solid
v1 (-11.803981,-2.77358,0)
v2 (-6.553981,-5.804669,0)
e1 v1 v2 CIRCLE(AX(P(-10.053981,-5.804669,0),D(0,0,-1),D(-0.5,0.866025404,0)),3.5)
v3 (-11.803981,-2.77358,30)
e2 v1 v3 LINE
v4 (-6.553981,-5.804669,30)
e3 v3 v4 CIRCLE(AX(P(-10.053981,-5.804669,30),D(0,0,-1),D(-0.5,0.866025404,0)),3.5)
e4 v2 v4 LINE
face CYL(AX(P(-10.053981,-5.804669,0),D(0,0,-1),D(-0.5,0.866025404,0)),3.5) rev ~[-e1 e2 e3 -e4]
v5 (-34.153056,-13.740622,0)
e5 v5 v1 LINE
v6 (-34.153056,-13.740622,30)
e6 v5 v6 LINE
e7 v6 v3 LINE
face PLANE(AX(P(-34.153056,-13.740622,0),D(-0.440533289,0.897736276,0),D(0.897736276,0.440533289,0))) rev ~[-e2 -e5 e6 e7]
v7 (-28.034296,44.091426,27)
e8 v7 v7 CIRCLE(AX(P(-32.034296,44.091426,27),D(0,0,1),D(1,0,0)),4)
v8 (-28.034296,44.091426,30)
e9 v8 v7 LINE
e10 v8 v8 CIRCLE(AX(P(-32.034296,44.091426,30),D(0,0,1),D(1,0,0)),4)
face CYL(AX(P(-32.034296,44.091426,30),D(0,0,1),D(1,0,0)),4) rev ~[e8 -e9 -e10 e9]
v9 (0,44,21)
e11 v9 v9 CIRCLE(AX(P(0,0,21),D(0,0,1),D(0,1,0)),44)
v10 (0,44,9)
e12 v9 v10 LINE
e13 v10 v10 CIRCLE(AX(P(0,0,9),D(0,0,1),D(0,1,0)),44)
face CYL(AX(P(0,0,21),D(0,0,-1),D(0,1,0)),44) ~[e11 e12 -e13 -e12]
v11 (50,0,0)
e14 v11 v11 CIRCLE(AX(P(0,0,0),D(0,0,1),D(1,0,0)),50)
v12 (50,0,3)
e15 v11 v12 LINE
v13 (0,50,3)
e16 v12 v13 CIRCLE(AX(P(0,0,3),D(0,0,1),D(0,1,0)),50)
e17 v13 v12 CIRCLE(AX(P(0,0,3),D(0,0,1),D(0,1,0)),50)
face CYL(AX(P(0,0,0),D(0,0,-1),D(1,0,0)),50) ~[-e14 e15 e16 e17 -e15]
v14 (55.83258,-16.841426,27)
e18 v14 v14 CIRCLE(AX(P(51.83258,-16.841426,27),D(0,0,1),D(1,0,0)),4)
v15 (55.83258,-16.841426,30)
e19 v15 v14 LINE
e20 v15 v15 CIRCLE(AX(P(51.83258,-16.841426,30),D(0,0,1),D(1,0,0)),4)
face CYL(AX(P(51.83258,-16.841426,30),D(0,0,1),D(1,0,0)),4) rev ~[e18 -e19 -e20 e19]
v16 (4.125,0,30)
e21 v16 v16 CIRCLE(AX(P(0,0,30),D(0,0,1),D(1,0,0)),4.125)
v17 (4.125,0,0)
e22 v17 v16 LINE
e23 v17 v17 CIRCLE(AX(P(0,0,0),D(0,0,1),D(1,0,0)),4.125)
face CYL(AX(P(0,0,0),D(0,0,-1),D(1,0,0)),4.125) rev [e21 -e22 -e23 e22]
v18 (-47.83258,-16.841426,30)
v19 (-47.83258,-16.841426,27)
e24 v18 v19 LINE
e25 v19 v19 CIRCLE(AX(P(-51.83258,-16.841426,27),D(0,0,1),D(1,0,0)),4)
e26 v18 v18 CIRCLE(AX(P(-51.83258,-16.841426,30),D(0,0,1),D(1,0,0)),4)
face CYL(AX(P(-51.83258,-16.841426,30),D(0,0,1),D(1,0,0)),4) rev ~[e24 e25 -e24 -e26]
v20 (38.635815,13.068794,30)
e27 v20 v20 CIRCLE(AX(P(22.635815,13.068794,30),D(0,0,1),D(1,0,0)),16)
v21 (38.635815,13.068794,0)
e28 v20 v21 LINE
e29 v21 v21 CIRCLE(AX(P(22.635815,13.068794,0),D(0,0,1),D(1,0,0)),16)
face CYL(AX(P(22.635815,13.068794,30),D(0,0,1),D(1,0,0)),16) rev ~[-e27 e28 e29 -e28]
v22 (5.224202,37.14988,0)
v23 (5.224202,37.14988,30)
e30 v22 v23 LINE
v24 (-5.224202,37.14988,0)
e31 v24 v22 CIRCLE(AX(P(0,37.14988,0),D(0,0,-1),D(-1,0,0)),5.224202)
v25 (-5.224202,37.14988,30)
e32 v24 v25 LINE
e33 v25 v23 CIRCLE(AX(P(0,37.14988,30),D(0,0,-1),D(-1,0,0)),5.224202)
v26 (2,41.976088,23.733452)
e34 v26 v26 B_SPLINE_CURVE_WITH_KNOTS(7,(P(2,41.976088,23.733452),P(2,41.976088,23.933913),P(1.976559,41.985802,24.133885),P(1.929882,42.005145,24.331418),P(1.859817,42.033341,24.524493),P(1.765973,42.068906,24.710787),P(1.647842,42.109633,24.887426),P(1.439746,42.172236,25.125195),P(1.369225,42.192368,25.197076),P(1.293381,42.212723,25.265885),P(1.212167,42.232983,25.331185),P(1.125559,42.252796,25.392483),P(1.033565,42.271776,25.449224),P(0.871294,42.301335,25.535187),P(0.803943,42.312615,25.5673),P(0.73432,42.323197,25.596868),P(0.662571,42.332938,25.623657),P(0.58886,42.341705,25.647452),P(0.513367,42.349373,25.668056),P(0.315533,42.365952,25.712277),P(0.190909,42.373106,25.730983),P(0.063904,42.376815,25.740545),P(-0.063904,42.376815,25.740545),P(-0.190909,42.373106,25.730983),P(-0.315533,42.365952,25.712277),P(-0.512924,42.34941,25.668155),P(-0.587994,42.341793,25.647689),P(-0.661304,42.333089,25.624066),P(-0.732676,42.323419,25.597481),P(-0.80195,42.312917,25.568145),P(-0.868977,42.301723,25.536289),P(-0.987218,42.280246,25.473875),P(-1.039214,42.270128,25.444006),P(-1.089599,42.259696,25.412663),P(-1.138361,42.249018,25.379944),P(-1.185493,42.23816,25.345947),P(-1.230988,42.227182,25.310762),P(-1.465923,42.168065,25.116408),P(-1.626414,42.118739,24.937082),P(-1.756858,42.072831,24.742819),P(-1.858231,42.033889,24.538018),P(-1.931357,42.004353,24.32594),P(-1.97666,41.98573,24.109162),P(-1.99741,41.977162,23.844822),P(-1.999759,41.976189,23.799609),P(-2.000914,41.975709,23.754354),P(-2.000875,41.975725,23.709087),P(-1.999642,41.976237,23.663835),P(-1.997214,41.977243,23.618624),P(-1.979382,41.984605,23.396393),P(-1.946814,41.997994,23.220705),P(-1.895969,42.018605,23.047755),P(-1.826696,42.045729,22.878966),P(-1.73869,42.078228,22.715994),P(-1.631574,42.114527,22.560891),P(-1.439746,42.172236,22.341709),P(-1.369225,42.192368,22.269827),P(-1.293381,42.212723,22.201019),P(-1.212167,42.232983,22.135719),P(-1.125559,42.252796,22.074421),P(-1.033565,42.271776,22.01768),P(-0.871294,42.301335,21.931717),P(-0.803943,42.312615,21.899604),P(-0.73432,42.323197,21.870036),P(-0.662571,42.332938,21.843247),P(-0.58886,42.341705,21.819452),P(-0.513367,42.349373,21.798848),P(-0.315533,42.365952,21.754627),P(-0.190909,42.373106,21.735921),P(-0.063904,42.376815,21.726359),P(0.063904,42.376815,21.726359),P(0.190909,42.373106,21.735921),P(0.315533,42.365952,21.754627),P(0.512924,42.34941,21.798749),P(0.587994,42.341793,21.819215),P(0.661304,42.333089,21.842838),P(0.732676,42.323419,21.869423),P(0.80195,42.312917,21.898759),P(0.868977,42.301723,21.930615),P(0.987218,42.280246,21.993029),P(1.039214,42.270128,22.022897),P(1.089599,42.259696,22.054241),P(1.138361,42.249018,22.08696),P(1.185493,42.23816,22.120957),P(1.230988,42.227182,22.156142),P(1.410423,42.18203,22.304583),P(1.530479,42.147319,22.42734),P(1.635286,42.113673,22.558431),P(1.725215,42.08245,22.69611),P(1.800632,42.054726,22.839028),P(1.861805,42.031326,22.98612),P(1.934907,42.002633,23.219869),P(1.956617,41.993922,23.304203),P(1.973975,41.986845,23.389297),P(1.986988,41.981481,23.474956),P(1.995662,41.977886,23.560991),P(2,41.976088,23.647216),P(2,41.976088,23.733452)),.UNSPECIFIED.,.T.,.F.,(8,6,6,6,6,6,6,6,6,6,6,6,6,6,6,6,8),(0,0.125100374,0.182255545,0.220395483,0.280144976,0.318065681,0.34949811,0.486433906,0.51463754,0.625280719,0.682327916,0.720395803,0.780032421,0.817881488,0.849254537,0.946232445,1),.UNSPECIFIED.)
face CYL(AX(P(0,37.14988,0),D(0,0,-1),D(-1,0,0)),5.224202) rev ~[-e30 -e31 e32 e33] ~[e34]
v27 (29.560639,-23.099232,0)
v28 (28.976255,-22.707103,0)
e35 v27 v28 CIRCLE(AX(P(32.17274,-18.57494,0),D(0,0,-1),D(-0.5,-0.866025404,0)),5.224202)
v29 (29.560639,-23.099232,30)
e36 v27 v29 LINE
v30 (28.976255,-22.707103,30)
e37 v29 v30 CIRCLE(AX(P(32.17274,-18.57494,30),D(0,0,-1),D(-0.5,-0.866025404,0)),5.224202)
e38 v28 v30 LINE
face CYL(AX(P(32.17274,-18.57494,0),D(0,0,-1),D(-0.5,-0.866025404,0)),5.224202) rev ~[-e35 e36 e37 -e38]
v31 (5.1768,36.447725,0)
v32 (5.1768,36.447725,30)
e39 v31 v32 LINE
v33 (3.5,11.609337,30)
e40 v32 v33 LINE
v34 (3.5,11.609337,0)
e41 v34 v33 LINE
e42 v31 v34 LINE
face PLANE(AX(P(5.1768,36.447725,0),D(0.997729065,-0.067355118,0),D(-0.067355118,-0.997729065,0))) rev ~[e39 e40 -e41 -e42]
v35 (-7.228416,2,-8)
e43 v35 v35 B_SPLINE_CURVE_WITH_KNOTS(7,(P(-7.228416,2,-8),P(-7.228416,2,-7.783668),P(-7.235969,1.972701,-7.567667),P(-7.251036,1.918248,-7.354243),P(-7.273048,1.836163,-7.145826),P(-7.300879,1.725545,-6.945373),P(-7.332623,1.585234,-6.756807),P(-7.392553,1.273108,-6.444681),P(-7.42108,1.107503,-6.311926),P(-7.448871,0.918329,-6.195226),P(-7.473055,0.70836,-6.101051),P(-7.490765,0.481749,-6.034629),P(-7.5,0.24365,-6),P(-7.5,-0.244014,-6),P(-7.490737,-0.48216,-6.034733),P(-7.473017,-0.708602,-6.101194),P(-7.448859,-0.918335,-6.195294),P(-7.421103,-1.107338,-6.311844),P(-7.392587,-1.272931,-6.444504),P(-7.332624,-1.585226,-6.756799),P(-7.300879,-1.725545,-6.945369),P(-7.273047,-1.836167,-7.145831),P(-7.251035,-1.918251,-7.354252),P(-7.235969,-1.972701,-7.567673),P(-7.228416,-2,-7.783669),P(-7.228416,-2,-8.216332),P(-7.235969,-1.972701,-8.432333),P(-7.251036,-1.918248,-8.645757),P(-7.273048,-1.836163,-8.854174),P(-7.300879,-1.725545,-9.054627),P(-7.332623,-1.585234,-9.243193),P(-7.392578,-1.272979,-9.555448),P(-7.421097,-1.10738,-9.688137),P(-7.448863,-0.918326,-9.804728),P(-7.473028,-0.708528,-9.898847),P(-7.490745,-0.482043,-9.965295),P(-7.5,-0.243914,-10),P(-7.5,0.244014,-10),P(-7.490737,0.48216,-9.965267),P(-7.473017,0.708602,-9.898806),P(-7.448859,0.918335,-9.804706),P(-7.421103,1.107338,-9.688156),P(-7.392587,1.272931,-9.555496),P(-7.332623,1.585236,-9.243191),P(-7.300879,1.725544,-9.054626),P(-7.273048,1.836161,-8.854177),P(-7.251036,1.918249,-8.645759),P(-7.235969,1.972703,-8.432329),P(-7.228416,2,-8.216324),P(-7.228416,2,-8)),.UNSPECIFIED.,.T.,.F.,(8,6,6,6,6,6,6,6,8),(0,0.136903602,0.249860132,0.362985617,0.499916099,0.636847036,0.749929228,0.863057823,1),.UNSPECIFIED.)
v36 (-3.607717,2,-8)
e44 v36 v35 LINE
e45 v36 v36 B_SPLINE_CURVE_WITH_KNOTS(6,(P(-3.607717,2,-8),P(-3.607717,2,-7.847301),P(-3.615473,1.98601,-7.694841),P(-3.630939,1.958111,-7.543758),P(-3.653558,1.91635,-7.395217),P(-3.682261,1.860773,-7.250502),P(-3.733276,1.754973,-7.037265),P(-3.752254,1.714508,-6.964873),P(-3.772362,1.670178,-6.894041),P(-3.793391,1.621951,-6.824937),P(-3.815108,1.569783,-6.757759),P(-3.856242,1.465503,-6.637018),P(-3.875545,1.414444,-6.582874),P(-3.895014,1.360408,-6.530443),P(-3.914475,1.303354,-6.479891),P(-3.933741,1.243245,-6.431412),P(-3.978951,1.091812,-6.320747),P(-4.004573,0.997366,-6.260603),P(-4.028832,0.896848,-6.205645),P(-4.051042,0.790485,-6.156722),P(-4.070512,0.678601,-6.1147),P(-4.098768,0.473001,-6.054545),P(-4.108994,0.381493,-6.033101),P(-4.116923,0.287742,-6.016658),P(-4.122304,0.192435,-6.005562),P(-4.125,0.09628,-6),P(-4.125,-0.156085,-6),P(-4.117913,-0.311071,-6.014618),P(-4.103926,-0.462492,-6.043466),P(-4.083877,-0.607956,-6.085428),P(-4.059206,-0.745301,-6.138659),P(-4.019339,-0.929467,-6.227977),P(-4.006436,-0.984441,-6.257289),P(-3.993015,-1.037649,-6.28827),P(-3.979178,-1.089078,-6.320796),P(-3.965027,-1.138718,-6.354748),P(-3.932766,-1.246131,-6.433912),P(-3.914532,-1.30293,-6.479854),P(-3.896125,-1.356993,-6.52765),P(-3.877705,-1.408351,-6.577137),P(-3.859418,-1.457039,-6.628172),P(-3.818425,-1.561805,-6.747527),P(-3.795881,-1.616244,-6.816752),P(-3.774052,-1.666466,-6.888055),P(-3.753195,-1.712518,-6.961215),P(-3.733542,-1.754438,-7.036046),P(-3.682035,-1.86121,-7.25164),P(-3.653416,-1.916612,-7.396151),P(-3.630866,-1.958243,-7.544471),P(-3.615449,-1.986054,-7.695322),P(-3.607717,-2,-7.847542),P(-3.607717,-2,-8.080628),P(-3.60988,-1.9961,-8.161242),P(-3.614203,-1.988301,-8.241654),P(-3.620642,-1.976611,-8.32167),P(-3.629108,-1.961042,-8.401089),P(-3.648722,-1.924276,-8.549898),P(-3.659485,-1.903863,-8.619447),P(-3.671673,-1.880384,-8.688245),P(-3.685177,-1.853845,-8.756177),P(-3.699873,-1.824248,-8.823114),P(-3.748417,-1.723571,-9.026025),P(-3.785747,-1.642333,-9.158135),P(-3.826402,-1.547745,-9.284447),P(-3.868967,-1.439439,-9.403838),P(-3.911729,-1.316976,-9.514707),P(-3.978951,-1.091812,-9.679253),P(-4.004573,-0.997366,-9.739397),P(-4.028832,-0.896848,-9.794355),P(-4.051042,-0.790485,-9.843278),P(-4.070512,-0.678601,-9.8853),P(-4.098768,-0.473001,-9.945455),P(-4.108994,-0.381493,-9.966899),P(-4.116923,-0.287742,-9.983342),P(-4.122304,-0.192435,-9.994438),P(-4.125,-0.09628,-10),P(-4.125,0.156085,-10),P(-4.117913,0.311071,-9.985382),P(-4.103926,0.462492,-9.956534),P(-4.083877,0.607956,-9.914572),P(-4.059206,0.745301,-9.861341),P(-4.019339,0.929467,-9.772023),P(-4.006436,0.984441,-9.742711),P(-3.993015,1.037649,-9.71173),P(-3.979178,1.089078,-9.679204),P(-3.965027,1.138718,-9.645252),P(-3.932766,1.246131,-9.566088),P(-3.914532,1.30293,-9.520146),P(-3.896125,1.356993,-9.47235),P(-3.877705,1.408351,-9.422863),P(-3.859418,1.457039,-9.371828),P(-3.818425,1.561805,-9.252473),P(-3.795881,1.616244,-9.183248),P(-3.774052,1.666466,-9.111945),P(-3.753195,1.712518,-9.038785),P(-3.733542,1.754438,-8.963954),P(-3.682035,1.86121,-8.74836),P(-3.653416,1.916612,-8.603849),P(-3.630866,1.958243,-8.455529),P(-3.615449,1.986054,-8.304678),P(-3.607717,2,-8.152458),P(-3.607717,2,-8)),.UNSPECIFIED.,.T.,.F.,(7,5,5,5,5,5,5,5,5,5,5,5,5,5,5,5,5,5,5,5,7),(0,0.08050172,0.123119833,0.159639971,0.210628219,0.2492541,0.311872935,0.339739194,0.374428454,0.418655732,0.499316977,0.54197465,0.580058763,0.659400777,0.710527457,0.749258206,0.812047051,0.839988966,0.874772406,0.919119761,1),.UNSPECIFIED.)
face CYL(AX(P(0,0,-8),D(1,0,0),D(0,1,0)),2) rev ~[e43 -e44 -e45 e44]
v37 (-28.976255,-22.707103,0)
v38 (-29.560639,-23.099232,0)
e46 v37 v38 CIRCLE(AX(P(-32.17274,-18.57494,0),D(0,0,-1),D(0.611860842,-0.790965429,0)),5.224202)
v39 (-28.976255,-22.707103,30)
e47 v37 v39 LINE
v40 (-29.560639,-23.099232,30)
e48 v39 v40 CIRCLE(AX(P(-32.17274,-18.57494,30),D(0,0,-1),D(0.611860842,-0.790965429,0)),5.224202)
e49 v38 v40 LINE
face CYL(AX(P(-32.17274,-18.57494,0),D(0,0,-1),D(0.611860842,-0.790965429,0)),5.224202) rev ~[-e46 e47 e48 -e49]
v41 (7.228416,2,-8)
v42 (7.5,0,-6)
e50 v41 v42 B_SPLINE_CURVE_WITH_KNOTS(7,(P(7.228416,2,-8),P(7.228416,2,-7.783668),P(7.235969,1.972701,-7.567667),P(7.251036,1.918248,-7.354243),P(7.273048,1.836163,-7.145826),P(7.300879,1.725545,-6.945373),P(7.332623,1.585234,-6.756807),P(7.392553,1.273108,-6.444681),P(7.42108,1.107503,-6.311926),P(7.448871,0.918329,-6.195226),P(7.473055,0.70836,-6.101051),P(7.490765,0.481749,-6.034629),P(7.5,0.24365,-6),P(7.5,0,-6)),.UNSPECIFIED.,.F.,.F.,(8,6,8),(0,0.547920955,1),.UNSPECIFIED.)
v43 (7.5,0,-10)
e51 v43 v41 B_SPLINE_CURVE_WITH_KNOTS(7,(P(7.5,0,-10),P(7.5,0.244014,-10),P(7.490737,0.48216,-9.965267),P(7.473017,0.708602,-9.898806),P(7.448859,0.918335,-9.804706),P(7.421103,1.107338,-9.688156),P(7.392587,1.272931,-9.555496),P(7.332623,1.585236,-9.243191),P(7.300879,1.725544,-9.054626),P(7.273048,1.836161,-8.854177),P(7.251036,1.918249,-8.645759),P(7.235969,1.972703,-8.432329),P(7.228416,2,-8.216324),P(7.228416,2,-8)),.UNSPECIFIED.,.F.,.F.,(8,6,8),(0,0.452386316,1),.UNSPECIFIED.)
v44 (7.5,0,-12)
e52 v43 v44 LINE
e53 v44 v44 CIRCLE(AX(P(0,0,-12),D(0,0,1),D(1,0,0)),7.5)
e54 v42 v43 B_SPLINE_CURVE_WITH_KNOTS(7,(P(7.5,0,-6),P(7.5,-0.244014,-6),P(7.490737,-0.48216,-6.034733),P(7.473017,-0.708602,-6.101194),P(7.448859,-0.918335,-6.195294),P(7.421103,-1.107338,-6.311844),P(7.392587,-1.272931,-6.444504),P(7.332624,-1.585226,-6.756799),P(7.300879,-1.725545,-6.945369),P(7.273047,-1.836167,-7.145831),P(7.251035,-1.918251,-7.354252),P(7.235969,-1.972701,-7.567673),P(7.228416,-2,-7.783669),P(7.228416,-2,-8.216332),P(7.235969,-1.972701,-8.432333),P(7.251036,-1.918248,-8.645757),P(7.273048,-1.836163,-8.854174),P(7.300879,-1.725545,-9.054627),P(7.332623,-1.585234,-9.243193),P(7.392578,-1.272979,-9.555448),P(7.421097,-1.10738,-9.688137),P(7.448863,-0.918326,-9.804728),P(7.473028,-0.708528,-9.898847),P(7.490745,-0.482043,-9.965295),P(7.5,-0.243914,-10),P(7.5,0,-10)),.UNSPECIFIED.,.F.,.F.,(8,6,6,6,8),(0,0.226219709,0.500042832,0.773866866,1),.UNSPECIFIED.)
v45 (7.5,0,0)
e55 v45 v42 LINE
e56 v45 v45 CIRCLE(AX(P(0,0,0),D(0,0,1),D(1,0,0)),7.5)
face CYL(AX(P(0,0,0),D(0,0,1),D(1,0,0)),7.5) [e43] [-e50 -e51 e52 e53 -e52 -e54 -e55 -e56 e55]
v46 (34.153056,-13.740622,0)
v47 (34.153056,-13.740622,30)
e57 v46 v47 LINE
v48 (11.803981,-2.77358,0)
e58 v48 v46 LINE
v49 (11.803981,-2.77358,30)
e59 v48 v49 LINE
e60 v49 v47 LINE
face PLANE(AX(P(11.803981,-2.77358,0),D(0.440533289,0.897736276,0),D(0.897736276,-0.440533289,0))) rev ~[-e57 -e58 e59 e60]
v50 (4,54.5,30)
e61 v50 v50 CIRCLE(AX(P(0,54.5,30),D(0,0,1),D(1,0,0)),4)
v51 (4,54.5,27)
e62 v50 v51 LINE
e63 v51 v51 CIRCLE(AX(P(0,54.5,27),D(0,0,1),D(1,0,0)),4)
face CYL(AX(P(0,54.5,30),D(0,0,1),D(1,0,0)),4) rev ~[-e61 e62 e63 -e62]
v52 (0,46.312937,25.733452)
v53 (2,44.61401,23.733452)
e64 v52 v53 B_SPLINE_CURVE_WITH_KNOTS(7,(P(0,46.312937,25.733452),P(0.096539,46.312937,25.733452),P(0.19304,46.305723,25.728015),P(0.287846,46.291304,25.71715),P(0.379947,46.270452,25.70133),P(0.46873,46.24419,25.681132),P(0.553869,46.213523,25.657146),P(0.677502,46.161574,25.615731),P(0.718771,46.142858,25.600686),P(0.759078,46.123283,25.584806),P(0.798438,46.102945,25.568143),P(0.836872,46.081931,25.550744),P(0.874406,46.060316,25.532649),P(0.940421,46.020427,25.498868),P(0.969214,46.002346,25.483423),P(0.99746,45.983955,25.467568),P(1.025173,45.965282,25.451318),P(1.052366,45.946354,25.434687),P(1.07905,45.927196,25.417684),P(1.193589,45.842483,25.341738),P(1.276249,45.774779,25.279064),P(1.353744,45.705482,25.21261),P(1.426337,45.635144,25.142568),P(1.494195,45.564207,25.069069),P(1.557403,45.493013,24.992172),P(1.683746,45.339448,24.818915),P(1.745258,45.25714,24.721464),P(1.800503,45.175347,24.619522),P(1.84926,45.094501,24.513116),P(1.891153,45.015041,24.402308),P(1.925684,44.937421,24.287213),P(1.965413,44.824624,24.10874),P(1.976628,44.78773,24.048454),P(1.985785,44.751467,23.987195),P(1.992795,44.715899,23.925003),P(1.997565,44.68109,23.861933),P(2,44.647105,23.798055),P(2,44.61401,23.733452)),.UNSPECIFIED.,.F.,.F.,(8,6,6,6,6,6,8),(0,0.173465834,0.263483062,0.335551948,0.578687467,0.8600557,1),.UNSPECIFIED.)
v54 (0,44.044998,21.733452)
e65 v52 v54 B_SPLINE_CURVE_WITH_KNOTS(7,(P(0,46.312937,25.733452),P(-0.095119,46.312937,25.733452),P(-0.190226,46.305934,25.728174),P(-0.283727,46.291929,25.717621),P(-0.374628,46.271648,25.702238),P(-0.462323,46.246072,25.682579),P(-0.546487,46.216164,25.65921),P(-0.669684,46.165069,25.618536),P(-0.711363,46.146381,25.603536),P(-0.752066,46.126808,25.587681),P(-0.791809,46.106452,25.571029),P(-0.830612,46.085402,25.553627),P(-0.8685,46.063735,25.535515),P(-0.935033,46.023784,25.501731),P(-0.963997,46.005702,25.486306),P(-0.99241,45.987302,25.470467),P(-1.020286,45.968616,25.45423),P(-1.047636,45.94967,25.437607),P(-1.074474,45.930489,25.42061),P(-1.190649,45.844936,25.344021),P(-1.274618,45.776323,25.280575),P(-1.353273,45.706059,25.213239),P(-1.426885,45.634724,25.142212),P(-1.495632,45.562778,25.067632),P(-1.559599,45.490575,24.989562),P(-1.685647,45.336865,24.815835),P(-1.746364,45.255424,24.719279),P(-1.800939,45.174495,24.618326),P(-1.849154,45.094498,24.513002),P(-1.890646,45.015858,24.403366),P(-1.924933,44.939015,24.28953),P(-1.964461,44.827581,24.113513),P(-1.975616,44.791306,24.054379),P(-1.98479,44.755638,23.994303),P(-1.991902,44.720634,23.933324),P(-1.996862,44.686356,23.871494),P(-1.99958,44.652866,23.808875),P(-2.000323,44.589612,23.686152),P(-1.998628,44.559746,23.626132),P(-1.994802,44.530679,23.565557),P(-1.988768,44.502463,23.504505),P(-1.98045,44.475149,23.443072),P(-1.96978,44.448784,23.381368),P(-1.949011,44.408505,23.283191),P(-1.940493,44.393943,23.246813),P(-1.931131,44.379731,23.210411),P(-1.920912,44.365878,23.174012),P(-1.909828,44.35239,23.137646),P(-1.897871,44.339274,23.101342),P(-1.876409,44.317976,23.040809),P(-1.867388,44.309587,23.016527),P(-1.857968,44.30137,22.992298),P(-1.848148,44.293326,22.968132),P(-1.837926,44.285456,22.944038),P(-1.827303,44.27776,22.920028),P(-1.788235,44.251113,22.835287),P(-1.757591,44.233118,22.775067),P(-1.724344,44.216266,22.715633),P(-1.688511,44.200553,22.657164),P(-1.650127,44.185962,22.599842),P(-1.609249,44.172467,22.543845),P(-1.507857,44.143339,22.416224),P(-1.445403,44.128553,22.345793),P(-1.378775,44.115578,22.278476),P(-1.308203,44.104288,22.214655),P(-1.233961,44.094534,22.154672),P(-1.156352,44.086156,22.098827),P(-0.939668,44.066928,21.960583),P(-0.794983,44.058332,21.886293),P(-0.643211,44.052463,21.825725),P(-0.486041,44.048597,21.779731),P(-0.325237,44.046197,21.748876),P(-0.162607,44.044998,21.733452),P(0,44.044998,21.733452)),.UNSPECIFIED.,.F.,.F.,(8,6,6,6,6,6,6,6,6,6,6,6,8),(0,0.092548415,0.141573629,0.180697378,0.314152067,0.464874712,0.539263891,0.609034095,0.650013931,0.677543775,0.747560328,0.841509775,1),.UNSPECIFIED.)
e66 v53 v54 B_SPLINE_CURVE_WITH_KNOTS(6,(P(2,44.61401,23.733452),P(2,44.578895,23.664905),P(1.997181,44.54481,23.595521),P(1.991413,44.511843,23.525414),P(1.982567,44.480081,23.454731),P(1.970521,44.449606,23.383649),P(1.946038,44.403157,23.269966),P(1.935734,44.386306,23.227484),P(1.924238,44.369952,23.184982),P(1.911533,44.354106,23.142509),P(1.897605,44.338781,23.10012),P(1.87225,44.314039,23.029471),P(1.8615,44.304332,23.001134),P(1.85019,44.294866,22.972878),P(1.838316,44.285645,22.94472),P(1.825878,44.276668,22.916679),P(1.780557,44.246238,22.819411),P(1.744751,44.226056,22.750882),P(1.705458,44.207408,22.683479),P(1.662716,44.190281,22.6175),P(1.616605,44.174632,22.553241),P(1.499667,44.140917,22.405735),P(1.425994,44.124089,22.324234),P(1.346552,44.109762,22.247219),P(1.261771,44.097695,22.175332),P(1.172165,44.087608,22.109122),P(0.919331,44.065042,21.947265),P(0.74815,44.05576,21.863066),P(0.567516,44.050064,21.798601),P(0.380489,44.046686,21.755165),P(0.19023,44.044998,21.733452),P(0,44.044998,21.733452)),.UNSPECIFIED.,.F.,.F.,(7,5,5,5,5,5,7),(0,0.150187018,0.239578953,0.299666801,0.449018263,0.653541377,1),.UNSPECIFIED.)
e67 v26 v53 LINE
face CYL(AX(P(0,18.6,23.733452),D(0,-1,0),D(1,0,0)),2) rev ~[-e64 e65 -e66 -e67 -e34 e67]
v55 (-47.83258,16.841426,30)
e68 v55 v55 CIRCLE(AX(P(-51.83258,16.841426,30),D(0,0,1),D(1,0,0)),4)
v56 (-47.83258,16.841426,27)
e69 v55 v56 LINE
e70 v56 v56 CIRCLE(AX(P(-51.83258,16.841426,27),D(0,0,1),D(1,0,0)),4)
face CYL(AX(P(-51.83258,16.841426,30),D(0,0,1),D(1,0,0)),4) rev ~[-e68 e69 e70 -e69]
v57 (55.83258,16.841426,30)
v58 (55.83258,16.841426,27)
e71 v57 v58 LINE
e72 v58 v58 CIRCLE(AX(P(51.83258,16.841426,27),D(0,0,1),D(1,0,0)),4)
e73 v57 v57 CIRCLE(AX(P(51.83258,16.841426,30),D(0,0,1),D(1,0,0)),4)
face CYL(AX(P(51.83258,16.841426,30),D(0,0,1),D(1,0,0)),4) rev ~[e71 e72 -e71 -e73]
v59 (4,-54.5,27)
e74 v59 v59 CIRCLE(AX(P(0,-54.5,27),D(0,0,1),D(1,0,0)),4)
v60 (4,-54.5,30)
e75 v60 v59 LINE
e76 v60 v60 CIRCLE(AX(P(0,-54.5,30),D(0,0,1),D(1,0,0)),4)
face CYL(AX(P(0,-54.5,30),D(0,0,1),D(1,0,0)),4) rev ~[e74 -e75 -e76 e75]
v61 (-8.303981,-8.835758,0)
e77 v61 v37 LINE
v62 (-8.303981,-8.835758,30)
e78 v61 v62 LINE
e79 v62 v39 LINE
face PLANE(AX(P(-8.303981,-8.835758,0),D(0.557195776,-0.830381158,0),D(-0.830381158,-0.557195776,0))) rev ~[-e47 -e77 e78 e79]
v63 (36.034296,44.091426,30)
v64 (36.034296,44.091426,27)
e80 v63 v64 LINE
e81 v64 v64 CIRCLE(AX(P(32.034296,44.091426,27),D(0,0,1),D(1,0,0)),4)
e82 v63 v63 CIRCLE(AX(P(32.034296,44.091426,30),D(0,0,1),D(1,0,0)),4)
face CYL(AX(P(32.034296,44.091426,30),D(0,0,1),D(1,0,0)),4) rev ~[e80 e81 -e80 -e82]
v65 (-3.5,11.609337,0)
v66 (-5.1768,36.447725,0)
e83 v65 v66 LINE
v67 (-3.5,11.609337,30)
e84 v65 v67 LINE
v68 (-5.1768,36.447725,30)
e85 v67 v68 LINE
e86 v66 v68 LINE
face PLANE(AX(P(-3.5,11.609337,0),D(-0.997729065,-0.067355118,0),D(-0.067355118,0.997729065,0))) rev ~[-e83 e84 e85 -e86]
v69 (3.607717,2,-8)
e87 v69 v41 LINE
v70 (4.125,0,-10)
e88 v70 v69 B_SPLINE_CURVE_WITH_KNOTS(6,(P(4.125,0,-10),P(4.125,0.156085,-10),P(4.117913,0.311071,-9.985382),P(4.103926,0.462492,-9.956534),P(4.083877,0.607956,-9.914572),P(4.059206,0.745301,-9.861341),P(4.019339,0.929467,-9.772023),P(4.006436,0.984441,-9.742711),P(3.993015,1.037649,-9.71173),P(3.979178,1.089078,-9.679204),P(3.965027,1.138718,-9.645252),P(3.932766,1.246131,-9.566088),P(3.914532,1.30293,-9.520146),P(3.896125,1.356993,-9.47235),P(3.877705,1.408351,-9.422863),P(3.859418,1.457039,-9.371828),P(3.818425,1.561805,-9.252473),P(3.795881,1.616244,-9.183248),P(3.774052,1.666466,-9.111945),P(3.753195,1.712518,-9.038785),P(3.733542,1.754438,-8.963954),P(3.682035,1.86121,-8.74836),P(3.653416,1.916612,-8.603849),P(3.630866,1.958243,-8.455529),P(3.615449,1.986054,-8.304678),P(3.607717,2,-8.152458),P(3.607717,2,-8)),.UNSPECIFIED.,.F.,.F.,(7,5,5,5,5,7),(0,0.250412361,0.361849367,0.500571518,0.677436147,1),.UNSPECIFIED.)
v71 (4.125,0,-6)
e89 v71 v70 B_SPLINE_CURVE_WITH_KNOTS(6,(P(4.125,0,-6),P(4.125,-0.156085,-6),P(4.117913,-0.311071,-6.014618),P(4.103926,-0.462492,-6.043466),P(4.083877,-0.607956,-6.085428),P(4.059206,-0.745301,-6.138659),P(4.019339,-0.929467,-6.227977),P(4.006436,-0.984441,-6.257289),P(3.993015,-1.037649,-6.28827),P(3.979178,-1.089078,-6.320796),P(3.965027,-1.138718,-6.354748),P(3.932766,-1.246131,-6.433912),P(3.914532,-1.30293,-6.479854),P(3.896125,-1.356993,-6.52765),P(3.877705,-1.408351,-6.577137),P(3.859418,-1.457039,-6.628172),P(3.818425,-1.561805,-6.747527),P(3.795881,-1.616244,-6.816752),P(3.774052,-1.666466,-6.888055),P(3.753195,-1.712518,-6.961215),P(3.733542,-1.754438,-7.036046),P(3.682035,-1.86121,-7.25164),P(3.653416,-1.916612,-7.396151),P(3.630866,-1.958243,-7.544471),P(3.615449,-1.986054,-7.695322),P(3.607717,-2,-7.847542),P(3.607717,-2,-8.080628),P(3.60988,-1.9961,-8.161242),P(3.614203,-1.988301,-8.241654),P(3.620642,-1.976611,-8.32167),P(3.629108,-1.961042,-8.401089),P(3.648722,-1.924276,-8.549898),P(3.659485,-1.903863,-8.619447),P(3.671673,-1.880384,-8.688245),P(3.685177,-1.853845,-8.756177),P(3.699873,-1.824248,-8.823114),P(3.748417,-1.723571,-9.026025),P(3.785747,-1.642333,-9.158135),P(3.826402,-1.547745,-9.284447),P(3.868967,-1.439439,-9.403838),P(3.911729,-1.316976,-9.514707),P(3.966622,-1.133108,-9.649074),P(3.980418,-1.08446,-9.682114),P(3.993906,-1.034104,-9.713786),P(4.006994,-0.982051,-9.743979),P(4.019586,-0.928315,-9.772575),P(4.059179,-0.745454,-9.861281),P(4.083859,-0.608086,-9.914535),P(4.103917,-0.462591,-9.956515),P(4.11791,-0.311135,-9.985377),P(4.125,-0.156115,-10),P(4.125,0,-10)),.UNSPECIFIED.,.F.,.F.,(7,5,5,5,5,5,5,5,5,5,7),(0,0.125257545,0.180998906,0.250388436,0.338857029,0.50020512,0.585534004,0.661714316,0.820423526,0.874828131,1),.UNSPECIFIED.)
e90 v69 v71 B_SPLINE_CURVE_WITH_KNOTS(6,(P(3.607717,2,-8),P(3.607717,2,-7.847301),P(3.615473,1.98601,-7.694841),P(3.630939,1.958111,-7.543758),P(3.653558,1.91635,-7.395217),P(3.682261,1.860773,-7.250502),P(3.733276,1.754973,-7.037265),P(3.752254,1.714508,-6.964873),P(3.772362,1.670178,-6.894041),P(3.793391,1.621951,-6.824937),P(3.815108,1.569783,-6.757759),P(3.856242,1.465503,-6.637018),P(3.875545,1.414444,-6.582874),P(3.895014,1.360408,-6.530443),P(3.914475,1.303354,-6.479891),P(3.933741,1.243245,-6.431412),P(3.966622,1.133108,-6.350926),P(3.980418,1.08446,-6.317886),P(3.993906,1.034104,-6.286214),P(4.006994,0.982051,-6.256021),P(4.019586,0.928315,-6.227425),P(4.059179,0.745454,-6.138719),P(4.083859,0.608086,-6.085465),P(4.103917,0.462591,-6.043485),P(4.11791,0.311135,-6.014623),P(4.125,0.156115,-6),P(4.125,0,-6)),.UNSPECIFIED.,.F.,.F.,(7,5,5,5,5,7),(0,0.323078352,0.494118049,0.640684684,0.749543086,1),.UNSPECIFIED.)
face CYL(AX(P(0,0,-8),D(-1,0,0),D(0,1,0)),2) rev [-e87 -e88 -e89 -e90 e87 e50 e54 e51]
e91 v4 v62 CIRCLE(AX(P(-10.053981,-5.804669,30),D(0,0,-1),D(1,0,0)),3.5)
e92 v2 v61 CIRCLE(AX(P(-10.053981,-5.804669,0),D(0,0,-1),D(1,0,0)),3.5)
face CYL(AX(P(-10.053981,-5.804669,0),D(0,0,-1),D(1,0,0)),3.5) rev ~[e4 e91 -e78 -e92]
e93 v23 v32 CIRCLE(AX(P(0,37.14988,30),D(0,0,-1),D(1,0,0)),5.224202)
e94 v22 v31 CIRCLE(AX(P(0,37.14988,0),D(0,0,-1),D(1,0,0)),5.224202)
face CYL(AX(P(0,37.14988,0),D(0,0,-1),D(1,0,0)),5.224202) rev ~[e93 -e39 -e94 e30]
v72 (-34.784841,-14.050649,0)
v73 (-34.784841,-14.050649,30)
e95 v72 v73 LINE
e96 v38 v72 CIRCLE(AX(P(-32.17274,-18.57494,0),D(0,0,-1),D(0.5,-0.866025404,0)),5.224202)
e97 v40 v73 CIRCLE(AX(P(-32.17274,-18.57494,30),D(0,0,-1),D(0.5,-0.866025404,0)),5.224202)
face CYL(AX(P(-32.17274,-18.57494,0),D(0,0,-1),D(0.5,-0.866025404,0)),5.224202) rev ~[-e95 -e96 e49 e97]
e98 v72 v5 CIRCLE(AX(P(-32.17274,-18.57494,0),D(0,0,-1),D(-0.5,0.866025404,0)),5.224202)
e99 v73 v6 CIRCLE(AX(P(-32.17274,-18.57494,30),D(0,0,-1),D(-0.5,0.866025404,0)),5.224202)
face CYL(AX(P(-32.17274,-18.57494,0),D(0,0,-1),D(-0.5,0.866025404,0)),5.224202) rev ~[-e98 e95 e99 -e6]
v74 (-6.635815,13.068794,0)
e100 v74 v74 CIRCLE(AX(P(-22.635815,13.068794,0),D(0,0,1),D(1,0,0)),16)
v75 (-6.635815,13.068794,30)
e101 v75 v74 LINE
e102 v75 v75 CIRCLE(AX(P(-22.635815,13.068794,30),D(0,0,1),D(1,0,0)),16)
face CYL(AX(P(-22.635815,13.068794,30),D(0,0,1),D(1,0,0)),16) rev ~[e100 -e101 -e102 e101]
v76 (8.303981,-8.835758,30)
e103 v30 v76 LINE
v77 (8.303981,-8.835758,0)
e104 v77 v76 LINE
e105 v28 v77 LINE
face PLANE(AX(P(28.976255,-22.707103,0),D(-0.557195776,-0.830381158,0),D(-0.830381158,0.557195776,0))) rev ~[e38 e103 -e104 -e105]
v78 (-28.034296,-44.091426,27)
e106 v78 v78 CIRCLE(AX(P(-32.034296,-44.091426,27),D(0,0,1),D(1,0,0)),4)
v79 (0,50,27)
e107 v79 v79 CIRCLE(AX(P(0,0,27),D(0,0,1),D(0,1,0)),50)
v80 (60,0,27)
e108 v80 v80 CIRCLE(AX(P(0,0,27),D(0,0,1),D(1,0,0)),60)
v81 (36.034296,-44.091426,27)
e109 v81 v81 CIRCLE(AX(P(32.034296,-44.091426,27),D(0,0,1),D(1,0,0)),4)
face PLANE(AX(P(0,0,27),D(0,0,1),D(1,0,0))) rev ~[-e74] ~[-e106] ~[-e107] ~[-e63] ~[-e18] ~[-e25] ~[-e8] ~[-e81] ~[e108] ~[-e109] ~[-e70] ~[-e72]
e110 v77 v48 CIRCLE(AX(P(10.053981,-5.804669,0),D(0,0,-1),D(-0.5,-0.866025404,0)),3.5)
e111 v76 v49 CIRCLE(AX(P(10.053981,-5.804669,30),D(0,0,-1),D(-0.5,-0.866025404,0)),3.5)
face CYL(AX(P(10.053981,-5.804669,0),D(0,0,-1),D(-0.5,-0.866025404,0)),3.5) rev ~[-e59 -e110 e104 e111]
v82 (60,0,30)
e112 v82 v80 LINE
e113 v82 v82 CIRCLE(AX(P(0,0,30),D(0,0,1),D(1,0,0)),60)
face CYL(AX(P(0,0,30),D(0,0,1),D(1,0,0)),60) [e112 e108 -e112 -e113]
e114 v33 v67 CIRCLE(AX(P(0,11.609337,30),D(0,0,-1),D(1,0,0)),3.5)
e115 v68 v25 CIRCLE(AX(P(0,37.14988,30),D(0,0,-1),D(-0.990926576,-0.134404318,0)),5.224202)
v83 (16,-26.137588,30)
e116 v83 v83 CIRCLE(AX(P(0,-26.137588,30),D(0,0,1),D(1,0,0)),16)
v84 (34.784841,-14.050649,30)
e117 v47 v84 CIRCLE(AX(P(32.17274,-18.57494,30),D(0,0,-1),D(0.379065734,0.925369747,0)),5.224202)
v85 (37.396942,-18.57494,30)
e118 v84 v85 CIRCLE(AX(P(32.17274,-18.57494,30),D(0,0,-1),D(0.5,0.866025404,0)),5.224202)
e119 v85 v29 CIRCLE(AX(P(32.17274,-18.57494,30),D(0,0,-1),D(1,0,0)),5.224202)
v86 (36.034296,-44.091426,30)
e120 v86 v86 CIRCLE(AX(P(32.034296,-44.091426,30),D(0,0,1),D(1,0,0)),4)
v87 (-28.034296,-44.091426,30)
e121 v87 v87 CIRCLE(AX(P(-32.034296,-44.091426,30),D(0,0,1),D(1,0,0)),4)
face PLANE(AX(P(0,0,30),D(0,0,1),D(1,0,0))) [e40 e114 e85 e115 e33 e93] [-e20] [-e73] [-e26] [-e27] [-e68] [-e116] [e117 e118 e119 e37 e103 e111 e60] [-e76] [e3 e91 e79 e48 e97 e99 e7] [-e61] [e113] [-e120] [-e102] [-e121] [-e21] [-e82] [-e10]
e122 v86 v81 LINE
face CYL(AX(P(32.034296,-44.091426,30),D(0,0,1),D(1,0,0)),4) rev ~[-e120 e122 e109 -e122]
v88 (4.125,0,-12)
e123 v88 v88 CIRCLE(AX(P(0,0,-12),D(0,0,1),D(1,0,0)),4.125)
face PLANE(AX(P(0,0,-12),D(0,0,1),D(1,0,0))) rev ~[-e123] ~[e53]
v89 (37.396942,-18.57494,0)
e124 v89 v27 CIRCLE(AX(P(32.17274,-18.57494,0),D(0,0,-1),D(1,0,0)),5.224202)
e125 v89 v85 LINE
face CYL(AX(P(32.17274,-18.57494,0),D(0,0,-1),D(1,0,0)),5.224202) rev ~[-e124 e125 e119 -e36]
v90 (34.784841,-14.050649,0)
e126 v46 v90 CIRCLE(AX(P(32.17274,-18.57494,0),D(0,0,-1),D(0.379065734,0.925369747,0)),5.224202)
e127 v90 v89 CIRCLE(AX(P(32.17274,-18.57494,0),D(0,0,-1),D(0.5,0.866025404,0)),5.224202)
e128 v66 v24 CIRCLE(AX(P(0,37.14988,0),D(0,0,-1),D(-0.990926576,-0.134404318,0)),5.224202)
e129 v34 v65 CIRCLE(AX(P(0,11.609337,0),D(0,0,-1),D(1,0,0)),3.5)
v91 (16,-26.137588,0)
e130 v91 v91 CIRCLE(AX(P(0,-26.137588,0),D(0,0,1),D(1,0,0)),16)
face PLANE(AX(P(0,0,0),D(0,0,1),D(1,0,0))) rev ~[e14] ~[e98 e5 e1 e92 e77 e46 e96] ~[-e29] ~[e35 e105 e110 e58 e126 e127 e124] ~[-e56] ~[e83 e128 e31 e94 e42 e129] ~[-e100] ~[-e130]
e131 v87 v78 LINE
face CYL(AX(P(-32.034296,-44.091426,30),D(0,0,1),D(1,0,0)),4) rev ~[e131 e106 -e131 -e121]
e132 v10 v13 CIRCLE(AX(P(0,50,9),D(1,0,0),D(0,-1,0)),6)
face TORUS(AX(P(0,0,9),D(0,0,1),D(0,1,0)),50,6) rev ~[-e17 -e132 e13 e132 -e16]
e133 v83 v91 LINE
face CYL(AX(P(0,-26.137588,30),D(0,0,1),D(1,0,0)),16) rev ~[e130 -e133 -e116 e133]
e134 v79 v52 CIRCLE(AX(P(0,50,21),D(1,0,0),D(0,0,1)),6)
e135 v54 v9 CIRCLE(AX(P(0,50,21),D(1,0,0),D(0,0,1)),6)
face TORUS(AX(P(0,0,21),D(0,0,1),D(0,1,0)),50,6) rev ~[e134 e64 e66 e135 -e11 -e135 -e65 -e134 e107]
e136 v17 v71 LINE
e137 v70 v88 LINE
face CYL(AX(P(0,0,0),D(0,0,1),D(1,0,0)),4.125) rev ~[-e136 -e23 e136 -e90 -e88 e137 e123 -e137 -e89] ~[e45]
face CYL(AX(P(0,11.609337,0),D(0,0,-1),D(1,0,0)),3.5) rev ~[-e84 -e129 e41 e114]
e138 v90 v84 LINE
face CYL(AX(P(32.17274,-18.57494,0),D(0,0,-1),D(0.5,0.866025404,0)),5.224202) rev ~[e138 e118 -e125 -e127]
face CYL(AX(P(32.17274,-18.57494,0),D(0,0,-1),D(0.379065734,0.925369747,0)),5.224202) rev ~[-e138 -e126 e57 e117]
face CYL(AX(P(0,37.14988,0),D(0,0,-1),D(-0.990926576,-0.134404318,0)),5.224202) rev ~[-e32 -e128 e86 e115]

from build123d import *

# Parameters (mm, degrees)
F0_R          = 50
F0_R_2        = 7.5
F0_R_3        = 4.125
F1_DEPTH      = 30
F3_DEPTH      = 12
F4_R          = 2
F5_DEPTH      = 25
F5_DEPTH_BACK = 25
F8_R          = 16
F9_DEPTH      = 44.4
F10_R         = 60
F10_R_2       = 4
F10_R_3       = 50
F11_DEPTH     = 3
F13_START     = -18.6
F12_R         = 2
F13_DEPTH     = 76


with BuildPart() as f1:
    # F0 (on Top) → F1 (new body)
    with BuildSketch(Plane.XY):
        Circle(F0_R)
        with BuildLine():
            ThreePointArc((-29.5606389839, -23.0992315385), (-36.6970313958, -21.1870409548), (-34.7848408122, -14.050648543))
            ThreePointArc((-34.7848408122, -14.050648543), (-34.4741747133, -13.884984547), (-34.1530557988, -13.7406217149))
            Line((-34.1530557988, -13.7406217149), (-11.8039810165, -2.7735797331))
            ThreePointArc((-11.8039810165, -2.7735797331), (-8.3039810165, -2.7735797331), (-6.5539810165, -5.8046686463))
            ThreePointArc((-6.5539810165, -5.8046686463), (-7.0228921033, -7.5546686463), (-8.3039810165, -8.8357575596))
            Line((-8.3039810165, -8.8357575596), (-28.9762553683, -22.7071030812))
            ThreePointArc((-28.9762553683, -22.7071030812), (-29.2618367055, -22.9130188027), (-29.5606389839, -23.0992315385))
        make_face(mode=Mode.SUBTRACT)
        with BuildLine():
            ThreePointArc((34.7848408122, -14.050648543), (36.6970313958, -15.9628391266), (37.3969417263, -18.5749400407))
            ThreePointArc((37.3969417263, -18.5749400407), (34.7848408122, -23.0992315385), (29.5606389839, -23.0992315385))
            ThreePointArc((29.5606389839, -23.0992315385), (29.2618367055, -22.9130188027), (28.9762553683, -22.7071030812))
            Line((28.9762553683, -22.7071030812), (8.3039810165, -8.8357575596))
            ThreePointArc((8.3039810165, -8.8357575596), (7.0228921033, -4.0546686463), (11.8039810165, -2.7735797331))
            Line((11.8039810165, -2.7735797331), (34.1530557988, -13.7406217149))
            ThreePointArc((34.1530557988, -13.7406217149), (34.4741747133, -13.884984547), (34.7848408122, -14.050648543))
        make_face(mode=Mode.SUBTRACT)
        Circle(F0_R_2, mode=Mode.SUBTRACT)
        with BuildLine():
            ThreePointArc((-5.2242018282, 37.1498800814), (0, 42.3740819097), (5.2242018282, 37.1498800814))
            ThreePointArc((5.2242018282, 37.1498800814), (5.2123380078, 36.7980033497), (5.1768004305, 36.4477247961))
            Line((5.1768004305, 36.4477247961), (3.5, 11.6093372926))
            ThreePointArc((3.5, 11.6093372926), (0, 8.1093372926), (-3.5, 11.6093372926))
            Line((-3.5, 11.6093372926), (-5.1768004305, 36.4477247961))
            ThreePointArc((-5.1768004305, 36.4477247961), (-5.2123380078, 36.7980033497), (-5.2242018282, 37.1498800814))
        make_face(mode=Mode.SUBTRACT)
        Circle(F0_R_2)
        Circle(F0_R_3, mode=Mode.SUBTRACT)
    extrude(amount=F1_DEPTH)

    # F0 (on Top) → F3 (join)
    with BuildSketch(Plane.XY):
        Circle(F0_R_2)
        Circle(F0_R_3, mode=Mode.SUBTRACT)
    extrude(amount=-F3_DEPTH)

    # F4 (on Right) → F5 (cut, two sides)
    with BuildSketch(Plane.YZ) as f5_sk:
        with Locations((0, -8)):
            Circle(F4_R)
    extrude(amount=F5_DEPTH, mode=Mode.SUBTRACT)
    extrude(f5_sk.sketch, amount=-F5_DEPTH_BACK, mode=Mode.SUBTRACT)

    # F6 (on Right) → F7 (revolve, cut)
    with BuildSketch(Plane.YZ):
        with BuildLine():
            Line((53.9439544082, 27), (50, 27))
            ThreePointArc((50, 27), (45.7573593129, 25.2426406871), (44, 21))
            Line((44, 21), (44, 9))
            ThreePointArc((44, 9), (45.7573593129, 4.7573593129), (50, 3))
            Line((50, 3), (53.9439544082, 3))
            Line((53.9439544082, 3), (53.9439544082, 27))
        make_face()
    revolve(axis=Axis((0, 0, 17.027027905), (0, 0, 1)), mode=Mode.SUBTRACT)

    # F8 (on face) → F9 (cut)
    with BuildSketch(Plane.XY.offset(30)):
        with Locations((-22.635814867, 13.0687938068)):
            Circle(F8_R)
        with Locations((22.635814867, 13.0687938068)):
            Circle(F8_R)
        with Locations((0, -26.1375876136)):
            Circle(F8_R)
    extrude(amount=-F9_DEPTH, mode=Mode.SUBTRACT)

    # F10 (on face) → F11 (join)
    with BuildSketch(Plane.XY.offset(30)):
        Circle(F10_R)
        with Locations((-32.0342962499, -44.0914261934)):
            Circle(F10_R_2, mode=Mode.SUBTRACT)
        with Locations((-51.8325801381, -16.8414261934)):
            Circle(F10_R_2, mode=Mode.SUBTRACT)
        with Locations((0, -54.5)):
            Circle(F10_R_2, mode=Mode.SUBTRACT)
        with Locations((32.0342962499, -44.0914261934)):
            Circle(F10_R_2, mode=Mode.SUBTRACT)
        with Locations((51.8325801381, -16.8414261934)):
            Circle(F10_R_2, mode=Mode.SUBTRACT)
        with Locations((-51.8325801381, 16.8414261934)):
            Circle(F10_R_2, mode=Mode.SUBTRACT)
        with Locations((-32.0342962499, 44.0914261934)):
            Circle(F10_R_2, mode=Mode.SUBTRACT)
        Circle(F10_R_3, mode=Mode.SUBTRACT)
        with Locations((51.8325801381, 16.8414261934)):
            Circle(F10_R_2, mode=Mode.SUBTRACT)
        with Locations((0, 54.5)):
            Circle(F10_R_2, mode=Mode.SUBTRACT)
        with Locations((32.0342962499, 44.0914261934)):
            Circle(F10_R_2, mode=Mode.SUBTRACT)
    extrude(amount=-F11_DEPTH)

    # F12 (on Front) → F13 (cut)
    with BuildSketch(Plane.XZ.offset(F13_START)):
        with Locations((0, 23.7334519625)):
            Circle(F12_R)
    extrude(amount=-F13_DEPTH, mode=Mode.SUBTRACT)


solid = f1.part
